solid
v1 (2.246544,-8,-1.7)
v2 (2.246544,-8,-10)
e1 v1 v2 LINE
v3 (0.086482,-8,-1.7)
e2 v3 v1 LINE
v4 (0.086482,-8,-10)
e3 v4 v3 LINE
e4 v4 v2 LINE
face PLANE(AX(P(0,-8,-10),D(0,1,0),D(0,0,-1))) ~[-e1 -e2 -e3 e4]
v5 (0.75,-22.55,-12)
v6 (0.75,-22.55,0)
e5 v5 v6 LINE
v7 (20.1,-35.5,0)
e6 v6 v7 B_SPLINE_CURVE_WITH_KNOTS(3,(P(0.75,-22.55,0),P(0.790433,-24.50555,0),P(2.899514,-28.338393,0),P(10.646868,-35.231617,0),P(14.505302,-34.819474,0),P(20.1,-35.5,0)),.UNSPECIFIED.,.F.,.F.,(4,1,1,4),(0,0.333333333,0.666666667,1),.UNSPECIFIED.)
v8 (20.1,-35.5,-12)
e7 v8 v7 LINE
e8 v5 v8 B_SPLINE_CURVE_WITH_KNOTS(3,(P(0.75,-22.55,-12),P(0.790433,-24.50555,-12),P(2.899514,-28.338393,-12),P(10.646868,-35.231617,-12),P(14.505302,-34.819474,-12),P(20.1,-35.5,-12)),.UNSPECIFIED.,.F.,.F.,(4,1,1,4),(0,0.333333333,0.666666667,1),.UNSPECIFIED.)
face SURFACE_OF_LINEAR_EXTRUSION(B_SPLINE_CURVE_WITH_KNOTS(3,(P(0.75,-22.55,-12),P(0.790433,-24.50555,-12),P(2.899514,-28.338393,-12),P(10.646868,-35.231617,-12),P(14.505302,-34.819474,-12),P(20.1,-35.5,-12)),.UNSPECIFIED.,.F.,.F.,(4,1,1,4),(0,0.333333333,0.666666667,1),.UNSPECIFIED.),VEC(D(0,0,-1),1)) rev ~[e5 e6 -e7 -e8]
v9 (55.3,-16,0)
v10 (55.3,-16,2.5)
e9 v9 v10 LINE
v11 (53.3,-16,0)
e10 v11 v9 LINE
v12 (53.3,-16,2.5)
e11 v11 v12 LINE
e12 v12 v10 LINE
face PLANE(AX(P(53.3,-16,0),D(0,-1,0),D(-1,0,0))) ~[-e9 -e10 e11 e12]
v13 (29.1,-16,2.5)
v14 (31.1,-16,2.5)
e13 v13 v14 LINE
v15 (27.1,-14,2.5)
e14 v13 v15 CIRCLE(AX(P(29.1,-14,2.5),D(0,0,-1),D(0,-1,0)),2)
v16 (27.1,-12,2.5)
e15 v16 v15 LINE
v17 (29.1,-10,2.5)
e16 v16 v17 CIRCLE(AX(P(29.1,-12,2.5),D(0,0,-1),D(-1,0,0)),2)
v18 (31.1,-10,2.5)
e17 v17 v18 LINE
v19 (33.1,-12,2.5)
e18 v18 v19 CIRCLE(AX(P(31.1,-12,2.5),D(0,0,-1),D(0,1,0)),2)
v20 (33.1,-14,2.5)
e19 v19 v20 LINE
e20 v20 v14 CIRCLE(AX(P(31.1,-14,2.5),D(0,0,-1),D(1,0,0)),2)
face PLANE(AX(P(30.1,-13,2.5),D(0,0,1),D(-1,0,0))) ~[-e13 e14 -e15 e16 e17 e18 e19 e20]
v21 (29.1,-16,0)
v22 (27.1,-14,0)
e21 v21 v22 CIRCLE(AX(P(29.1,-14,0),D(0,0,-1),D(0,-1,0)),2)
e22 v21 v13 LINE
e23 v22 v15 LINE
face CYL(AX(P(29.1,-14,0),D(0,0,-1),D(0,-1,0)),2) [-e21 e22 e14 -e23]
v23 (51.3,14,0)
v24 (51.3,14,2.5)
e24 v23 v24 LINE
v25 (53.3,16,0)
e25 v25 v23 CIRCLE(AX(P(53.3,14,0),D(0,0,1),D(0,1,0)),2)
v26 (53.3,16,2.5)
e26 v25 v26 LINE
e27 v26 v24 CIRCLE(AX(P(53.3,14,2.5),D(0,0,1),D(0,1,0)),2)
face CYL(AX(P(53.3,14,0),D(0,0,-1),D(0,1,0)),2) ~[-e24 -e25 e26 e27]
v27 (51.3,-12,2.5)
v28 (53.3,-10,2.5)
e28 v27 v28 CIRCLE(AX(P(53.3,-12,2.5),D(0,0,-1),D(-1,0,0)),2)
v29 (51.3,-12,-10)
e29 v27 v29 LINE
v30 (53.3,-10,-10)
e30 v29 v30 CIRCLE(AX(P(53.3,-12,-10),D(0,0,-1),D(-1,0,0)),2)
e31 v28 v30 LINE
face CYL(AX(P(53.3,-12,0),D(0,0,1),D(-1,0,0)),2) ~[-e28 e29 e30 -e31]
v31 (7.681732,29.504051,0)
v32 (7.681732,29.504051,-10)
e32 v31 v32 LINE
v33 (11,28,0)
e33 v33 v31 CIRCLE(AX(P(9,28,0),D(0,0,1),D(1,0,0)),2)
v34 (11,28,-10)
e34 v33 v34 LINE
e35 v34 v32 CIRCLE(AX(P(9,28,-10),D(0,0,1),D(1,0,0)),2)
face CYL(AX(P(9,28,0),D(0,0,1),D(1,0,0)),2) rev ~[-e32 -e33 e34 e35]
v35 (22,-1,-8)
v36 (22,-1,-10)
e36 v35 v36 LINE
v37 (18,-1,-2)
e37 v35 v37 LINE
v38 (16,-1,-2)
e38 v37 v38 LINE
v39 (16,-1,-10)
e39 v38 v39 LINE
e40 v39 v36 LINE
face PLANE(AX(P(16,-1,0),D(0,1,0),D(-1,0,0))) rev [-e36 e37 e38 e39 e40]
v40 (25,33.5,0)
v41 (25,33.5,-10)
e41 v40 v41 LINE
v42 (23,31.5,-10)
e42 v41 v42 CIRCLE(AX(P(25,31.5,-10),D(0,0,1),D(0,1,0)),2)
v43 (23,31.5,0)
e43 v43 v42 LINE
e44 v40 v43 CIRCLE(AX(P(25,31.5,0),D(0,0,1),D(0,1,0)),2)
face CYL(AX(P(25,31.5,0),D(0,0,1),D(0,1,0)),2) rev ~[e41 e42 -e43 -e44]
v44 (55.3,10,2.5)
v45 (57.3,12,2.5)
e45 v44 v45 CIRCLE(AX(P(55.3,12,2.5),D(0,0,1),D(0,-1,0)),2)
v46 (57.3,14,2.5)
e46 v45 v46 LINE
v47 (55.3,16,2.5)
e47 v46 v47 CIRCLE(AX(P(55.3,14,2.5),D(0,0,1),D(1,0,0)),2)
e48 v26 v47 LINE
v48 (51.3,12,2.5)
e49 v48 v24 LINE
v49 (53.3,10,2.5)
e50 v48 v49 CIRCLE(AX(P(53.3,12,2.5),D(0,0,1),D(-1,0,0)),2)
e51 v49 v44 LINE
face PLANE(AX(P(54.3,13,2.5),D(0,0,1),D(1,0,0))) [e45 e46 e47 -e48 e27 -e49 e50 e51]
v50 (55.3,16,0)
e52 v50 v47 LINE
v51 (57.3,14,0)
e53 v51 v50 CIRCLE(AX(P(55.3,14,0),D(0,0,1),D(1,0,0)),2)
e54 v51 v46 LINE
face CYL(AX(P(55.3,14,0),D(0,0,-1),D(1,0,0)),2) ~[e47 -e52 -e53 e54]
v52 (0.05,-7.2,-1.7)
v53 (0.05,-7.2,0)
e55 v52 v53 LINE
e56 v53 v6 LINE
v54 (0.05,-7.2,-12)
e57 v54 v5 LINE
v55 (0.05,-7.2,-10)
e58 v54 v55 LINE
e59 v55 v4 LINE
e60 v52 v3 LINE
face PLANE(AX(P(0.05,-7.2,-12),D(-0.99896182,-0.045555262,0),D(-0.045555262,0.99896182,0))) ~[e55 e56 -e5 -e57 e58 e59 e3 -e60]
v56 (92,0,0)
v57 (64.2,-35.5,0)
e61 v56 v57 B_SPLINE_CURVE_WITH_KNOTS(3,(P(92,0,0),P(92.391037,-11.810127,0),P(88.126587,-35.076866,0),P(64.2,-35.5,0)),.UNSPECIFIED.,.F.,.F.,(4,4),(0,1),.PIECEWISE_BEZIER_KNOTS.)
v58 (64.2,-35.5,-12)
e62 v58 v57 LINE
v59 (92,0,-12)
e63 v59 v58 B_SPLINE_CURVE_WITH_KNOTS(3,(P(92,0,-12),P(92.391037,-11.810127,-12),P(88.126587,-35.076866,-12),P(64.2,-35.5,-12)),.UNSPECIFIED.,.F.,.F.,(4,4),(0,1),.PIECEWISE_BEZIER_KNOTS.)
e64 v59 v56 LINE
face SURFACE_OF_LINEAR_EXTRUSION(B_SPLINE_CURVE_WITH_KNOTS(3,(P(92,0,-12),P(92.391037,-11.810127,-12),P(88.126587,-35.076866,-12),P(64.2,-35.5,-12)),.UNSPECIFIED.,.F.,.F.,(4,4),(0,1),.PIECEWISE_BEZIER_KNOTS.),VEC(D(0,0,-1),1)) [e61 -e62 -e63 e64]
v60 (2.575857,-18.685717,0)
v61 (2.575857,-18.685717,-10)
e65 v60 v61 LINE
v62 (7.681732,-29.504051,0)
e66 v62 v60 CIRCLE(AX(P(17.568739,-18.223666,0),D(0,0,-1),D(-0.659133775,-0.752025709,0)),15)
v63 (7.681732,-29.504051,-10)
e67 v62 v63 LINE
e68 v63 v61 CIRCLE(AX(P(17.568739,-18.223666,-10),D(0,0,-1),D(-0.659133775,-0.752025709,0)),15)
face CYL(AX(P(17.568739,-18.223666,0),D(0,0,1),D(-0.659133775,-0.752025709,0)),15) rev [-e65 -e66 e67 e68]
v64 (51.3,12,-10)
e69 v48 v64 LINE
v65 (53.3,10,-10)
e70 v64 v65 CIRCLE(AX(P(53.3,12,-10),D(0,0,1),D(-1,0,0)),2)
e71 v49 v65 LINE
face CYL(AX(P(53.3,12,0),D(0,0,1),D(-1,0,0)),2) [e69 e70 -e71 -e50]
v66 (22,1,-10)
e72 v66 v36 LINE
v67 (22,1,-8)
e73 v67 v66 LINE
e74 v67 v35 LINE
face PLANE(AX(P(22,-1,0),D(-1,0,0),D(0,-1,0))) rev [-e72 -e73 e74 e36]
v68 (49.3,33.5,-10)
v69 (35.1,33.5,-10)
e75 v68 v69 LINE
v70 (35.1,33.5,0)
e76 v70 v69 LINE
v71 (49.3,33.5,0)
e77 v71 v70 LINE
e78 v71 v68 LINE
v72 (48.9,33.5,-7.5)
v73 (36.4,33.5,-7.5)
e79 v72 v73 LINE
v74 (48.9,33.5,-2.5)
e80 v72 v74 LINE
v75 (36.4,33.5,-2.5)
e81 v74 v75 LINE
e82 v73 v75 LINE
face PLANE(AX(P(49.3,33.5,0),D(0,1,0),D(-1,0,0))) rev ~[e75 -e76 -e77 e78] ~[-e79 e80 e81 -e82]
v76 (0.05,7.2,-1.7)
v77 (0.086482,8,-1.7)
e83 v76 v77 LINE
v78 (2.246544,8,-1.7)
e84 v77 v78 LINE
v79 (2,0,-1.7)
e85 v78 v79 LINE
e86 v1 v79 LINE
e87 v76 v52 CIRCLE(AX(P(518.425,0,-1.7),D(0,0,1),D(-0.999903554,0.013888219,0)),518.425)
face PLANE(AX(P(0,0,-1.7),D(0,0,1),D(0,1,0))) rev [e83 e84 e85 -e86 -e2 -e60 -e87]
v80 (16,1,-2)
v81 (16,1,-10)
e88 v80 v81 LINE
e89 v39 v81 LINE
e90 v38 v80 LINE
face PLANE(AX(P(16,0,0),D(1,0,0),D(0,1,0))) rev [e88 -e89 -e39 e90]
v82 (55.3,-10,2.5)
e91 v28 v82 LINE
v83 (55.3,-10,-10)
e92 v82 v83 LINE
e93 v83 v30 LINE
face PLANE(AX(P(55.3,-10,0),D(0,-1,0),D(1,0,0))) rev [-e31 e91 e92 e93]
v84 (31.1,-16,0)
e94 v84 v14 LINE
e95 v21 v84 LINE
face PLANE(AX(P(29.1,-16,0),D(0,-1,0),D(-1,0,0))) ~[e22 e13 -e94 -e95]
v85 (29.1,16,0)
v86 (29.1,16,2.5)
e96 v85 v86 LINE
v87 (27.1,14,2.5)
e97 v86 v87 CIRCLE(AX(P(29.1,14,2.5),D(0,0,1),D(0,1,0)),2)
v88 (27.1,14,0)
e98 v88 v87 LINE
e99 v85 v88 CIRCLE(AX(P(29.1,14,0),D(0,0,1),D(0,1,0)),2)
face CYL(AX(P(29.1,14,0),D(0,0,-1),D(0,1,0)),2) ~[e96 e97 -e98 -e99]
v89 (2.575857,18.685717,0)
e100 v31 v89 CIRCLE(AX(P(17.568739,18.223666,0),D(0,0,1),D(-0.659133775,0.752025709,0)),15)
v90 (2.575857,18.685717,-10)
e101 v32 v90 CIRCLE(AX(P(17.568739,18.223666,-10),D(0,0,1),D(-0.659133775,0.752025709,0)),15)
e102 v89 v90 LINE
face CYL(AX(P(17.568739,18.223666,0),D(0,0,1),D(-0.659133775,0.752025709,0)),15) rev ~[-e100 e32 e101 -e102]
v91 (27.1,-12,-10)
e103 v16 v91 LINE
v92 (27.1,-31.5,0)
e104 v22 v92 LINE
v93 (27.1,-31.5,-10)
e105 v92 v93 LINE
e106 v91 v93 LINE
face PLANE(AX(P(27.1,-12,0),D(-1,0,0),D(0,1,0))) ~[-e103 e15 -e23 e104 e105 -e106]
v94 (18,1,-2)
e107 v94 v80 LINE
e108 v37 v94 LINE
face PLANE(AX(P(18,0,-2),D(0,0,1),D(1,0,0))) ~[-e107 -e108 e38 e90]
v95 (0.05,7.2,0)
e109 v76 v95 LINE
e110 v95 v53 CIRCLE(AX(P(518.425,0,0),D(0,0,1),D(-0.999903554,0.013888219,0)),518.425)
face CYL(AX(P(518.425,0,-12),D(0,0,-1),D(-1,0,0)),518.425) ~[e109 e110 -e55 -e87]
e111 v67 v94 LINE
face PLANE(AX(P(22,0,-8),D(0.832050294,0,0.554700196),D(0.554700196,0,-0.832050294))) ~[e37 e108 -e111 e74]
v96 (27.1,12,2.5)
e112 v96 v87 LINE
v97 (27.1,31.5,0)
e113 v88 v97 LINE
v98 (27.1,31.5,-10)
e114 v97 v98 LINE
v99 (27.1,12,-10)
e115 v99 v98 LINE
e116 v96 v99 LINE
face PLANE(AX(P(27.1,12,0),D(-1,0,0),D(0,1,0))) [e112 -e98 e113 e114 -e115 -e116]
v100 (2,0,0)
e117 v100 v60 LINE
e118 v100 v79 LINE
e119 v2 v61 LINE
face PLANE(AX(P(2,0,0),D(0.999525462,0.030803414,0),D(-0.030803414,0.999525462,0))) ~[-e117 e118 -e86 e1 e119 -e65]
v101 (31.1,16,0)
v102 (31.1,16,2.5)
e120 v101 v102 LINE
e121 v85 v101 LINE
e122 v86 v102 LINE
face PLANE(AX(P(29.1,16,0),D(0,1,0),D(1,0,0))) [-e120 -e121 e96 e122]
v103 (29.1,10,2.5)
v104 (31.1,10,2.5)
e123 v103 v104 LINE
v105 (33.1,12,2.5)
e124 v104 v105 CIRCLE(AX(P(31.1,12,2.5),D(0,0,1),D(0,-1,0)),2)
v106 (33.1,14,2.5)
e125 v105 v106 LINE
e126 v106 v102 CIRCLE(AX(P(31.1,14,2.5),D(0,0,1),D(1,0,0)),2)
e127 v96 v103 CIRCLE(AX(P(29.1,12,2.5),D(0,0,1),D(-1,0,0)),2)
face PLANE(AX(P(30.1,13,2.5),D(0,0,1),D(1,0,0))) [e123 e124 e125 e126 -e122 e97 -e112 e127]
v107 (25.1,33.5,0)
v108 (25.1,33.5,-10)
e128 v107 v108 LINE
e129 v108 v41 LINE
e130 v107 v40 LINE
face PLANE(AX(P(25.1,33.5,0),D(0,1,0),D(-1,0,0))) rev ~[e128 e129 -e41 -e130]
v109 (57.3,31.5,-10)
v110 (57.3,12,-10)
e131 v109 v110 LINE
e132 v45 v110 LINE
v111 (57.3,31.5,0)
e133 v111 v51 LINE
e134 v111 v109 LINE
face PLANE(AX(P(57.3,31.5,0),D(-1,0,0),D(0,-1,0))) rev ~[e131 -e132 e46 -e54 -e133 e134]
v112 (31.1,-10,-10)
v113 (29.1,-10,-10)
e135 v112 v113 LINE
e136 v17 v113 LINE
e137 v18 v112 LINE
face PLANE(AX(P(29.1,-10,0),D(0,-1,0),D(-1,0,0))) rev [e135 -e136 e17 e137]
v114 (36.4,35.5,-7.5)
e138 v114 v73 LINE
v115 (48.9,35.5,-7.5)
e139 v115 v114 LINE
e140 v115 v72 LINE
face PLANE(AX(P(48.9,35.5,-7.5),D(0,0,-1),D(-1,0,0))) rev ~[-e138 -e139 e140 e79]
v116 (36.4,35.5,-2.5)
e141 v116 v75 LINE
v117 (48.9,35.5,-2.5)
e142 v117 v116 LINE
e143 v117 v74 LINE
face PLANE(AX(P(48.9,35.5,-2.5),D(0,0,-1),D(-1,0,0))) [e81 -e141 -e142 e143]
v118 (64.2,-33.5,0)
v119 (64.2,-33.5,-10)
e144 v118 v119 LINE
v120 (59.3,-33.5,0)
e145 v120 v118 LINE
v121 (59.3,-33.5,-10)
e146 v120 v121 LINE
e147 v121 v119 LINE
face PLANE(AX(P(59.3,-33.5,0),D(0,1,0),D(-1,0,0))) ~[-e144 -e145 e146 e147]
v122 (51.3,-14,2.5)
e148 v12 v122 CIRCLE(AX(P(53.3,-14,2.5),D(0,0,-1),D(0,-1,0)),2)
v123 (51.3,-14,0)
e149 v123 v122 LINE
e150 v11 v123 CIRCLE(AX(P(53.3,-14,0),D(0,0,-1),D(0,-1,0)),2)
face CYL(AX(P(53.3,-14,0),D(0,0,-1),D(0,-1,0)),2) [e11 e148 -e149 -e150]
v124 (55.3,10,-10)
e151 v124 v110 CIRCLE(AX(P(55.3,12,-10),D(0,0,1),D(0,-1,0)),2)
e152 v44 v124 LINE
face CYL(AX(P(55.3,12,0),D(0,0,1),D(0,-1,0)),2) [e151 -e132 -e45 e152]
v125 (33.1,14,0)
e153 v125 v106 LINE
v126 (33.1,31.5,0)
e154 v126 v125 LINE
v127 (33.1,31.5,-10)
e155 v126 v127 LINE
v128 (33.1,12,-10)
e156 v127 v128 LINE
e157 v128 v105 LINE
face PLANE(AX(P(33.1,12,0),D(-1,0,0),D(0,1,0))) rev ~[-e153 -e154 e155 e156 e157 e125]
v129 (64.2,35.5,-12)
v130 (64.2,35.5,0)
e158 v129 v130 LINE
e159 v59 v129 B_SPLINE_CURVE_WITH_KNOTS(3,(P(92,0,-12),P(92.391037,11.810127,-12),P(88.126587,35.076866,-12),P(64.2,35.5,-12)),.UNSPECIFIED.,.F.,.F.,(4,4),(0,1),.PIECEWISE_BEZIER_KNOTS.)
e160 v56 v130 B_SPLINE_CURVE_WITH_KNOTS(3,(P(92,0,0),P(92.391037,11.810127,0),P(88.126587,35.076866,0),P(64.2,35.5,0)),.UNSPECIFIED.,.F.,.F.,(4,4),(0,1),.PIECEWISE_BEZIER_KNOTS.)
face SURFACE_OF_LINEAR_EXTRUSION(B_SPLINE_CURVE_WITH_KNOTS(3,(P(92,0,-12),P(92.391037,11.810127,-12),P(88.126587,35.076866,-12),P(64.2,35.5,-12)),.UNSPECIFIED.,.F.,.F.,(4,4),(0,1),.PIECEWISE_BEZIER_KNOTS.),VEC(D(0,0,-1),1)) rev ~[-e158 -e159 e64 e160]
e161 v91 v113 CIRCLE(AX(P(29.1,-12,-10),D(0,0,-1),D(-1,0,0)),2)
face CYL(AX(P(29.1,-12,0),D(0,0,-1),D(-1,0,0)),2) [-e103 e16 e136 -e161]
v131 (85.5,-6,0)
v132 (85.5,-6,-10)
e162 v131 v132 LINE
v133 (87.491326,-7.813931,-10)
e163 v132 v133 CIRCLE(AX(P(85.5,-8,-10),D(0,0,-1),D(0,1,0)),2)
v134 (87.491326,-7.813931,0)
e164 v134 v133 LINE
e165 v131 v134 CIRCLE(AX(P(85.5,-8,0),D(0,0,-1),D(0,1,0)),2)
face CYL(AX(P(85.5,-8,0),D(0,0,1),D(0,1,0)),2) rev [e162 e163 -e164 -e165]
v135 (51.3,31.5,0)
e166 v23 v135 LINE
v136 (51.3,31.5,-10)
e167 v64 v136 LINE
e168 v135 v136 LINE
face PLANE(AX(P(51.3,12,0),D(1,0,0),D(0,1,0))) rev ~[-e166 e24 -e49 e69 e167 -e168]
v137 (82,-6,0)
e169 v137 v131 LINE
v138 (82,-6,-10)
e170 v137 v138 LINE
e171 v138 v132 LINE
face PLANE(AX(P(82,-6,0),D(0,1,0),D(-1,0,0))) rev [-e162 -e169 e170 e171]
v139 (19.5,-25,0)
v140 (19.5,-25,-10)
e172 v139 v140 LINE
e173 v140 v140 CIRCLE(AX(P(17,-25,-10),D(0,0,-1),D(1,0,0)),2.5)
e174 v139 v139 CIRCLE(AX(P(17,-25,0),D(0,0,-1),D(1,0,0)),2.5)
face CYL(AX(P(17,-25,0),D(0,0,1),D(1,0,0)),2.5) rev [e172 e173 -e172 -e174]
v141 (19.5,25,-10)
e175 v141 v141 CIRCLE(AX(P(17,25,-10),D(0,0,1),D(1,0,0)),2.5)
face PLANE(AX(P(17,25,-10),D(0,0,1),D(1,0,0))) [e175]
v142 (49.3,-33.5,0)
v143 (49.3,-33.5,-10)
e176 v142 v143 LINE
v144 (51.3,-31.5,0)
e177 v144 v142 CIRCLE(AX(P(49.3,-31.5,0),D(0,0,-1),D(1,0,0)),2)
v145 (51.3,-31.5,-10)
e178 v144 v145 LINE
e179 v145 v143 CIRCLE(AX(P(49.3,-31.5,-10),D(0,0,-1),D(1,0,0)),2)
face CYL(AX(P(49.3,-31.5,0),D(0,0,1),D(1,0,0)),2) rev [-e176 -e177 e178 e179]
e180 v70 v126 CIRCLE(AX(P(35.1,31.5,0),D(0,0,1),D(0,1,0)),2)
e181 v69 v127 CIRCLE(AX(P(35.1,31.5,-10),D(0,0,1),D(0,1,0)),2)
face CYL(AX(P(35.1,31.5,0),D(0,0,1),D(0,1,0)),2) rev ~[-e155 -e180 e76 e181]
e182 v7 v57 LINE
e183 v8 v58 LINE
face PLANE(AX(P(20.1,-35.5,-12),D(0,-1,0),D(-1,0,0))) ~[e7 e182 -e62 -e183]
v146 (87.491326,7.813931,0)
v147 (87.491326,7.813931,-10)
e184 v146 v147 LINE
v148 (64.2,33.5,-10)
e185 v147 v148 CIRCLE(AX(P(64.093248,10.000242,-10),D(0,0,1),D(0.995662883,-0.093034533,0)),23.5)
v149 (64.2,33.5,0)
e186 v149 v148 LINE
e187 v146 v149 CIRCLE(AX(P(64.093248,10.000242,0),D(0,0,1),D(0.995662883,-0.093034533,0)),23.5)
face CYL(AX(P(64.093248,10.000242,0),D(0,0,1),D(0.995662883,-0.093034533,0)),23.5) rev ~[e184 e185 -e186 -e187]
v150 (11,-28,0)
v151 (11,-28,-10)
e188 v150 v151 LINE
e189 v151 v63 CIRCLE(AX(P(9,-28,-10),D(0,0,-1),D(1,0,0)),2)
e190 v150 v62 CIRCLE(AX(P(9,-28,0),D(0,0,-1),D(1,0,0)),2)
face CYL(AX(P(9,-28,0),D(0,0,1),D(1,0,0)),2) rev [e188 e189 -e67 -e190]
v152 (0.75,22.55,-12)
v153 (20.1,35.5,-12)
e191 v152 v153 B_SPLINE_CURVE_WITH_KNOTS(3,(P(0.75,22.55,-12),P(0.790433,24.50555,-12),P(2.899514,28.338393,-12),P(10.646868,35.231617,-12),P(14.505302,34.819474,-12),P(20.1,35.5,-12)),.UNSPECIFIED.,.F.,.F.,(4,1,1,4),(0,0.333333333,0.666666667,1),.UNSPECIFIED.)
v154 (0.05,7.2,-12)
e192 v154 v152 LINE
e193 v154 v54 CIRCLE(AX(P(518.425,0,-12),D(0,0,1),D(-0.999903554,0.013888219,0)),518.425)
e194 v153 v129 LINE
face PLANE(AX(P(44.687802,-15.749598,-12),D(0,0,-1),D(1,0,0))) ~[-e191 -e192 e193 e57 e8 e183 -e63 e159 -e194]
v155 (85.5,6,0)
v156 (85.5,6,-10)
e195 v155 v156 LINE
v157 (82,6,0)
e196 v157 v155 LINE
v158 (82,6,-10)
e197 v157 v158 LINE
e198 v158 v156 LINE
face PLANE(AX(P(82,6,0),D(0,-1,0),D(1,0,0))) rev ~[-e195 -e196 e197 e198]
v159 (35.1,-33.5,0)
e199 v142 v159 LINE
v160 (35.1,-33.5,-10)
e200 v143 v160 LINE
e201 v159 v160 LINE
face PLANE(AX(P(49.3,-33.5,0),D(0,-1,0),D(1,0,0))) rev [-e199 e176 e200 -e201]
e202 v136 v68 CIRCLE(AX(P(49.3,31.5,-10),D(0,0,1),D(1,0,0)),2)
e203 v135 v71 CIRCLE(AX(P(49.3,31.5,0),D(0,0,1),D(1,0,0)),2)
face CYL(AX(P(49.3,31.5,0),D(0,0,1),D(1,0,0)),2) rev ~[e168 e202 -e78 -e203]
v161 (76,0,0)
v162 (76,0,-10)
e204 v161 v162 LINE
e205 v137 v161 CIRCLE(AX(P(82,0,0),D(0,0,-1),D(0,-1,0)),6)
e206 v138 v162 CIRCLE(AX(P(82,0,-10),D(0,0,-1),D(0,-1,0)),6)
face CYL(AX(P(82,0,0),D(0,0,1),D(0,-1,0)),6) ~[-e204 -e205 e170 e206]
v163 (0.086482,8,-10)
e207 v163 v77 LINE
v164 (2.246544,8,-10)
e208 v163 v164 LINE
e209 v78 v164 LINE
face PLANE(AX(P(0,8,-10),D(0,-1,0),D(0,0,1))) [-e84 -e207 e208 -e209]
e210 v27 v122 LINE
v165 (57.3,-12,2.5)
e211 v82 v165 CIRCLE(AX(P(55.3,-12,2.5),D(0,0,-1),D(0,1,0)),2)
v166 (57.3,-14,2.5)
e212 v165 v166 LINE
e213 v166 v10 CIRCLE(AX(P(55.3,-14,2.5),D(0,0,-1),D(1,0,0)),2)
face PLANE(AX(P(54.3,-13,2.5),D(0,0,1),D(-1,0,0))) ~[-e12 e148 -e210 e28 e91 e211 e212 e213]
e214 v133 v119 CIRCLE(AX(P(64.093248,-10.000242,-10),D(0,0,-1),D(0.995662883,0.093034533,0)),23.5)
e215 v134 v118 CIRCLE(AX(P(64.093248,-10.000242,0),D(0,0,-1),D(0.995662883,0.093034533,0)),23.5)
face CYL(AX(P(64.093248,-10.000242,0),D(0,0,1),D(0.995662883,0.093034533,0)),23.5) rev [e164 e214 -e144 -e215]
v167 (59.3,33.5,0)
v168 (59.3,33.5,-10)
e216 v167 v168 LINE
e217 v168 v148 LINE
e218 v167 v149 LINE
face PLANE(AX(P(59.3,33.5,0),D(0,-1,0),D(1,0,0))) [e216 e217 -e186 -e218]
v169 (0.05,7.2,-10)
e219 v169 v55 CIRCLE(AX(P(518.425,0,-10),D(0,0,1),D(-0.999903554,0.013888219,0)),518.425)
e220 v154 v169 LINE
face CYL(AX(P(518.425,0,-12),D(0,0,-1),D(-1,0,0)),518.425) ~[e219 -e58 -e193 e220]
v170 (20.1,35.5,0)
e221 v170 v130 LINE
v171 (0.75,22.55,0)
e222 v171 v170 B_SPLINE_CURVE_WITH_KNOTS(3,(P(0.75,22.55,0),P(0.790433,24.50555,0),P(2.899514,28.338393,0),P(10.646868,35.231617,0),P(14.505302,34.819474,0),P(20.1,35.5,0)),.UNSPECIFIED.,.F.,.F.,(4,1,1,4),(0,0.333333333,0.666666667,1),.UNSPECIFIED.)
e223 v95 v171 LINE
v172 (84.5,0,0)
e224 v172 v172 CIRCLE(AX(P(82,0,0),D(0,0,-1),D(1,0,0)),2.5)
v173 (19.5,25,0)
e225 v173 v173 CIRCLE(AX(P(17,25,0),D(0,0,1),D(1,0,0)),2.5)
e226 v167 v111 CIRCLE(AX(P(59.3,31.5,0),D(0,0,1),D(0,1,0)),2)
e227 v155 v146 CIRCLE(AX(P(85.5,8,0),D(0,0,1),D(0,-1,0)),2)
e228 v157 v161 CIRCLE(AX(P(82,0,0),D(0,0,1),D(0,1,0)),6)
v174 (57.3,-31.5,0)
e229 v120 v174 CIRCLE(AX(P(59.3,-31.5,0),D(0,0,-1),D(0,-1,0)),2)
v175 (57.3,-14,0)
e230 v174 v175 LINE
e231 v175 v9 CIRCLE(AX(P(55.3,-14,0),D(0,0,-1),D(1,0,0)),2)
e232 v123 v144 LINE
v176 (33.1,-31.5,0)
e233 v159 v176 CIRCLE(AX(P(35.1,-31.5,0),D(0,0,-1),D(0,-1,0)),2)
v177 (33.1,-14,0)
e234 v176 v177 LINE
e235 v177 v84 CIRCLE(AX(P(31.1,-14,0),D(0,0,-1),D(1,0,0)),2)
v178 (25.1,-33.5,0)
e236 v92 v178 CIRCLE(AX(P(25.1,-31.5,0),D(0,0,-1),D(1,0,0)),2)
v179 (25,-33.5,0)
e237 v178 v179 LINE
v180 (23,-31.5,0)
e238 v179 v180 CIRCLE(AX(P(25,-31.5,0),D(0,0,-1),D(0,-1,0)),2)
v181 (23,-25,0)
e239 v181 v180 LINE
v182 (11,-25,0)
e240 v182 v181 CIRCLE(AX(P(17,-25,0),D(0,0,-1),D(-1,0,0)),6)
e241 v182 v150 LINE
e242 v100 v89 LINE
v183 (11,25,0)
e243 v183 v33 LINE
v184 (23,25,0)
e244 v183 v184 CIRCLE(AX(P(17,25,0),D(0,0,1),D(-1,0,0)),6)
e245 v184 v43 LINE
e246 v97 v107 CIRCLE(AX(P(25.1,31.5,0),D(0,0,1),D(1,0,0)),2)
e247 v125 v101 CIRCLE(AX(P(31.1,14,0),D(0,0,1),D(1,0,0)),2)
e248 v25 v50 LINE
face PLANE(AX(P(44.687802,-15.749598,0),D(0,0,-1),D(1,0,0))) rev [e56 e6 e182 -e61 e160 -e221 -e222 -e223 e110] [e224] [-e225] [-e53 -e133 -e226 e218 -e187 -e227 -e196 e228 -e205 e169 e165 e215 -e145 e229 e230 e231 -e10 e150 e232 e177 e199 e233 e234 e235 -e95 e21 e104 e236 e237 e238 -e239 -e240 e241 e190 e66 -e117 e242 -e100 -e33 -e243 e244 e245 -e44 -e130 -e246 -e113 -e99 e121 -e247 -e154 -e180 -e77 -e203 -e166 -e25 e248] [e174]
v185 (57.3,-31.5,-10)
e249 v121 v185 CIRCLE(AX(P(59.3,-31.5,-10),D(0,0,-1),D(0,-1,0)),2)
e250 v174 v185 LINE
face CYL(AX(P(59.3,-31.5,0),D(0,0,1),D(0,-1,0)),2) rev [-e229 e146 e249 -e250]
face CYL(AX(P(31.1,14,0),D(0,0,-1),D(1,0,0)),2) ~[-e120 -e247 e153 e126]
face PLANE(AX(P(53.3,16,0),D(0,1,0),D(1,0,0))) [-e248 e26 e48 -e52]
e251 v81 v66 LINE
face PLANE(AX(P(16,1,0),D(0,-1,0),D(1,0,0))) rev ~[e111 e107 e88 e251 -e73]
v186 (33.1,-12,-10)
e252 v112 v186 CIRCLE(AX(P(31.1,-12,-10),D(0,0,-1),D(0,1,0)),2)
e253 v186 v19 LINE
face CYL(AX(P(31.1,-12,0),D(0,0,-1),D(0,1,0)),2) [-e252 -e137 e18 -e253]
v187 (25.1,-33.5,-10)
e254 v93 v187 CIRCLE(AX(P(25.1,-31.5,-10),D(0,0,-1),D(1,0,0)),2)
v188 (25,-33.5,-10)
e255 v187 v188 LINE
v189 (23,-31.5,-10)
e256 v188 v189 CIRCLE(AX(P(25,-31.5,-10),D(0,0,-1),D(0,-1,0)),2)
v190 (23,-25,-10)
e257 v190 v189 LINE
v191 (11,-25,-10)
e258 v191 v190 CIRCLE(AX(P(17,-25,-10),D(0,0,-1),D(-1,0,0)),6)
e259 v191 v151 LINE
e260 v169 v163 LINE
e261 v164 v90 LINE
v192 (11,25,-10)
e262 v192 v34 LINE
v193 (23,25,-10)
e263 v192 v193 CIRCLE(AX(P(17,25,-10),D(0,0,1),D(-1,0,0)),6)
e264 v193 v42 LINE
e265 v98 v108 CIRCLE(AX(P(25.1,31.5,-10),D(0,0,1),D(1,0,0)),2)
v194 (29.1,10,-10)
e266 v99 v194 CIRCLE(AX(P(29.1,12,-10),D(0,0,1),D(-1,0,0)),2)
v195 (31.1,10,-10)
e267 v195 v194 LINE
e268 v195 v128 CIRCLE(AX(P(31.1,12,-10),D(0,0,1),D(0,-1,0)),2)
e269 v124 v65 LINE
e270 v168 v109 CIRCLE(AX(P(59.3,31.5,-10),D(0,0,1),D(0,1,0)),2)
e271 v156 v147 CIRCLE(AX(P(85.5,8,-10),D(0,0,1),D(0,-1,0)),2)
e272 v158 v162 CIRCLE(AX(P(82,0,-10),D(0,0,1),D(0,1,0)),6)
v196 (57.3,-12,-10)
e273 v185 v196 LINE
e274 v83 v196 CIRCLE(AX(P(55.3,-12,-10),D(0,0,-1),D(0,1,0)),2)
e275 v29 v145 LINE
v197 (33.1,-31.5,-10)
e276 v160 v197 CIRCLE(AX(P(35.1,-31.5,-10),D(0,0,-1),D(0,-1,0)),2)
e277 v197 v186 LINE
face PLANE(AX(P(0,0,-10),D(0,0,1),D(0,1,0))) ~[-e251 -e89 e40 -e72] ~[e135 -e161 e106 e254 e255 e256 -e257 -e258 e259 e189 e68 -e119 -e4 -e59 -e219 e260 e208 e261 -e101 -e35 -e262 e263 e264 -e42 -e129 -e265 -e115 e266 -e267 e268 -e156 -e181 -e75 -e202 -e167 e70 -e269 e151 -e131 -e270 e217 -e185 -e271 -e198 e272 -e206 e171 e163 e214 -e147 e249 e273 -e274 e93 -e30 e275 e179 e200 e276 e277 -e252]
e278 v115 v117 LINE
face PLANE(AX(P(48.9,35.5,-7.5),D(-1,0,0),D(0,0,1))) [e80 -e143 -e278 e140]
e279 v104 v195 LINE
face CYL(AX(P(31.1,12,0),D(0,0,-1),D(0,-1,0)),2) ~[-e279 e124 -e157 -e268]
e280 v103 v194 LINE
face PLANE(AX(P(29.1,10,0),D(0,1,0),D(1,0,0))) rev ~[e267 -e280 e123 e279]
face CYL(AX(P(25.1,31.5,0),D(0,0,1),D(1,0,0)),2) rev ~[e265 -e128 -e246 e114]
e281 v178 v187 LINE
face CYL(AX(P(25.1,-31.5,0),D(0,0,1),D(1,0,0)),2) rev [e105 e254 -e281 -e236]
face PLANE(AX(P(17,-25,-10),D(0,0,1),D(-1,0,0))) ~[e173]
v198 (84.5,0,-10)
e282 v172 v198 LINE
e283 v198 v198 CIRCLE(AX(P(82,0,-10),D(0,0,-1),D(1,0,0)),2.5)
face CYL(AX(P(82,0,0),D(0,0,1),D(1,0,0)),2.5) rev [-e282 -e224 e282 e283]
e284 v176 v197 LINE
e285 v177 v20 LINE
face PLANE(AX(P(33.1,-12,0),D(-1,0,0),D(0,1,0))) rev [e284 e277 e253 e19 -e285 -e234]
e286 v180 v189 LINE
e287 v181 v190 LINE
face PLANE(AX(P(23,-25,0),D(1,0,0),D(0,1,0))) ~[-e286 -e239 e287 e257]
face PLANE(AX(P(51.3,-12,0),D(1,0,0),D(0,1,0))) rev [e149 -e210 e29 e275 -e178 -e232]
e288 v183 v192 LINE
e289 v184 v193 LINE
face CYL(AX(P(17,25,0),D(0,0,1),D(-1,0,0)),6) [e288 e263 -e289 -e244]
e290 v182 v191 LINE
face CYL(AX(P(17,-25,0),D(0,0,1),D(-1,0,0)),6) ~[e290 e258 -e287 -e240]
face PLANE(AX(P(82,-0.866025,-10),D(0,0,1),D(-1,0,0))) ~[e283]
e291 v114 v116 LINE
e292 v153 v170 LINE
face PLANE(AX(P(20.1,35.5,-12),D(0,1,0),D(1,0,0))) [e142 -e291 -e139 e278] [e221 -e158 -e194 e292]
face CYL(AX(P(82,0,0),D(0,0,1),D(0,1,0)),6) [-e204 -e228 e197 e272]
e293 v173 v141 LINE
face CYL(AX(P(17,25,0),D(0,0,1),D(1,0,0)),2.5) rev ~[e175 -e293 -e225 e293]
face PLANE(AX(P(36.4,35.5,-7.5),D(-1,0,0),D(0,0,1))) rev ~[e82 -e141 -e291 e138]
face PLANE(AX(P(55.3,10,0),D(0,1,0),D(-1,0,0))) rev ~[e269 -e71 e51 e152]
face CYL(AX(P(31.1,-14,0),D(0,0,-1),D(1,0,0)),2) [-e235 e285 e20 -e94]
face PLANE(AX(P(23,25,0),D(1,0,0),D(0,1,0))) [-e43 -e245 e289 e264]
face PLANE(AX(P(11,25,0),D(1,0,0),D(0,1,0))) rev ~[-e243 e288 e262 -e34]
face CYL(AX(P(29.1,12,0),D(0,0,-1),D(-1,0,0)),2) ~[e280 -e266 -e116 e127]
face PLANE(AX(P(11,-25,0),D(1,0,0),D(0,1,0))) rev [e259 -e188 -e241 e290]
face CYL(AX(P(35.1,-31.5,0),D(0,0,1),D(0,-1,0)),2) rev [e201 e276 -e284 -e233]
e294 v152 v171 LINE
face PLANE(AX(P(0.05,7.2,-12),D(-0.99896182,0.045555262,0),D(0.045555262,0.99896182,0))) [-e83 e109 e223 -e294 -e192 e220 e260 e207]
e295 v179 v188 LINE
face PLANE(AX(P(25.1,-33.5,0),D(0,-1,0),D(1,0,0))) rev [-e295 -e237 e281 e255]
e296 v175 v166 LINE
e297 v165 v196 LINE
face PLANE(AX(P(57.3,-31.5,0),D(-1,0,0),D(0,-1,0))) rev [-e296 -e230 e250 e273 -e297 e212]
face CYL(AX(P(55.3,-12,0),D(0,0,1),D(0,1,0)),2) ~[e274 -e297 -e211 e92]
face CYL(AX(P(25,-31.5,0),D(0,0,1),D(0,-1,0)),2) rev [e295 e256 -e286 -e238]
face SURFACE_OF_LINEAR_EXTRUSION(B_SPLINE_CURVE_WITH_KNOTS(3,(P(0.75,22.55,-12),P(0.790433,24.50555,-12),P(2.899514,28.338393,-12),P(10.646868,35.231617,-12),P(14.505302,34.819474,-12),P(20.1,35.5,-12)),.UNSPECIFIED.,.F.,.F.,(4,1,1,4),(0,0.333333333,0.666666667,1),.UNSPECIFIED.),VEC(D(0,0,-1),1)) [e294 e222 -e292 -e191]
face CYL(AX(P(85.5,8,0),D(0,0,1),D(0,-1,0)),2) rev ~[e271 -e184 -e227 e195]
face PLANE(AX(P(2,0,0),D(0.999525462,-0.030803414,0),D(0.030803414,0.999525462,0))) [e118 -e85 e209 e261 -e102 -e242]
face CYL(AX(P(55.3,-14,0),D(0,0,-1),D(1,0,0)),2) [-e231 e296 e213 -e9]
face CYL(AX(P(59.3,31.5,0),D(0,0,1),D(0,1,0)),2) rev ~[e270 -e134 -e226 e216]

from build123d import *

# Parameters (mm, degrees)
PAD005_DEPTH    = 12
SKETCH025_R     = 2.5
POCKET019_DEPTH = 10
POCKET020_DEPTH = 1
SKETCH027_W     = 8
SKETCH027_H     = 8.3
POCKET021_DEPTH = 5
PAD006_DEPTH    = 2.5
SKETCH029_W     = 12.5
SKETCH029_H     = 5
POCKET022_DEPTH = 2


with BuildPart() as part:
    # Sketch024 → Pad005 (new body)
    with BuildSketch(Plane.XY):
        with BuildLine():
            ThreePointArc((0, 0), (0.0125001507, 3.6000868045), (0.05, 7.2))
            Line((0.05, 7.2), (0.75, 22.55))
            add(Edge.make_bspline(
                [(0.75, 22.55), (0.790433, 24.50555), (2.8995135699, 28.3383927733), (10.6468681476, 35.231617337), (14.5053016695, 34.8194742751), (20.1, 35.5)],
                knots=[0, 0, 0, 0, 0.3333333333, 0.6666666667, 1, 1, 1, 1], degree=3))
            Line((20.1, 35.5), (64.2, 35.5))
            add(Edge.make_bspline(
                [(92, 0), (92.391037, 11.810127), (88.126587, 35.076866), (64.2, 35.5)],
                knots=[0, 0, 0, 0, 1, 1, 1, 1], degree=3))
            Line((92, 0), (0, 0))
        make_face()
    extrude(amount=PAD005_DEPTH)

    # Sketch025 (on Face8 of Pad005) → Pocket019 (cut)
    with BuildSketch(Plane.XY.offset(12)):
        with Locations((17, 25)):
            Circle(SKETCH025_R)
        with BuildLine():
            ThreePointArc((84.5, 0), (82, 2.5), (79.5, 0))
            Line((79.5, 0), (84.5, 0))
        make_face()
        with BuildLine():
            Line((2, 0), (2.5758571429, 18.6857169977))
            ThreePointArc((7.6817324497, 29.5040514173), (4.0036624605, 24.625907301), (2.5758571429, 18.6857169977))
            ThreePointArc((11, 28), (9.8256709089, 29.8216112511), (7.6817324497, 29.5040514173))
            Line((11, 25), (11, 28))
            ThreePointArc((11, 25), (17, 19), (23, 25))
            Line((23, 25), (23, 31.5))
            ThreePointArc((25, 33.5), (23.5857864376, 32.9142135624), (23, 31.5))
            Line((25.1, 33.5), (25, 33.5))
            ThreePointArc((27.1, 31.5), (26.5142135624, 32.9142135624), (25.1, 33.5))
            Line((27.1, 12), (27.1, 31.5))
            ThreePointArc((27.1, 12), (27.6857864376, 10.5857864376), (29.1, 10))
            Line((31.1, 10), (29.1, 10))
            ThreePointArc((31.1, 10), (32.5142135624, 10.5857864376), (33.1, 12))
            Line((33.1, 31.5), (33.1, 12))
            ThreePointArc((35.1, 33.5), (33.6857864376, 32.9142135624), (33.1, 31.5))
            Line((49.3, 33.5), (35.1, 33.5))
            ThreePointArc((51.3, 31.5), (50.7142135624, 32.9142135624), (49.3, 33.5))
            Line((51.3, 12), (51.3, 31.5))
            ThreePointArc((51.3, 12), (51.8857864376, 10.5857864376), (53.3, 10))
            Line((55.3, 10), (53.3, 10))
            ThreePointArc((55.3, 10), (56.7142135624, 10.5857864376), (57.3, 12))
            Line((57.3, 31.4999999999), (57.3, 12))
            ThreePointArc((59.3, 33.4999999999), (57.8857864376, 32.9142135623), (57.3, 31.4999999999))
            Line((59.3, 33.5), (64.2, 33.5))
            ThreePointArc((87.491325765, 7.8139309331), (81.5019467421, 25.7859071373), (64.2, 33.5))
            ThreePointArc((85.5, 6), (86.8468225322, 6.521463877), (87.491325765, 7.8139309331))
            Line((82, 6), (85.5, 6))
            ThreePointArc((82, 6), (77.7573593129, 4.2426406871), (76, 0))
            Line((22, 0), (76, 0))
            Line((22, 1), (22, 0))
            Line((16, 1), (22, 1))
            Line((16, 0), (16, 1))
            Line((2, 0), (16, 0))
        make_face()
    extrude(amount=-POCKET019_DEPTH, mode=Mode.SUBTRACT)

    # Sketch026 (on Face3 of Pocket019) → Pocket020 (cut)
    with BuildSketch(Plane.XZ):
        Polygon((22, 12), (22, 4), (18, 10), (16, 10), (16, 12), align=None)
    extrude(amount=-POCKET020_DEPTH, mode=Mode.SUBTRACT)

    # Sketch027 → Pocket021 (cut)
    with BuildSketch(Plane.YZ):
        with Locations((4, 6.15)):
            Rectangle(SKETCH027_W, SKETCH027_H)
    extrude(amount=POCKET021_DEPTH, mode=Mode.SUBTRACT)

    # Sketch028 (on Face8 of Pocket021) → Pad006 (join)
    with BuildSketch(Plane.XY.offset(12)):
        with BuildLine():
            ThreePointArc((31.1, 10), (32.5142135624, 10.5857864376), (33.1, 12))
            Line((33.1, 12), (33.1, 14))
            ThreePointArc((33.1, 14), (32.5142135624, 15.4142135624), (31.1, 16))
            Line((29.1, 16), (31.1, 16))
            ThreePointArc((29.1, 16), (27.6857864376, 15.4142135624), (27.1, 14))
            Line((27.1, 12), (27.1, 14))
            ThreePointArc((27.1, 12), (27.6857864376, 10.5857864376), (29.1, 10))
            Line((29.1, 10), (31.1, 10))
        make_face()
        with BuildLine():
            ThreePointArc((51.3, 12), (51.8857864376, 10.5857864376), (53.3, 10))
            Line((53.3, 10), (55.3, 10))
            ThreePointArc((55.3, 10), (56.7142135624, 10.5857864376), (57.3, 12))
            Line((57.3, 12), (57.3, 14))
            ThreePointArc((57.3, 14), (56.7142135624, 15.4142135624), (55.3, 16))
            Line((53.3, 16), (55.3, 16))
            ThreePointArc((53.3, 16), (51.8857864376, 15.4142135624), (51.3, 14))
            Line((51.3, 12), (51.3, 14))
        make_face()
    extrude(amount=PAD006_DEPTH)

    # Mirrored002: part across XZ


with BuildPart() as part_1:
    add(part.part)
    add(part.part.mirror(Plane.XZ))

    # Sketch029 (on Face33 of Mirrored002) → Pocket022 (cut)
    with BuildSketch(Plane(origin=(0, 35.5, 0), x_dir=(-1, 0, 0), z_dir=(0, 1, 0))):
        with Locations((-42.65, 7)):
            Rectangle(SKETCH029_W, SKETCH029_H)
    extrude(amount=-POCKET022_DEPTH, mode=Mode.SUBTRACT)


with BuildPart() as part_2:
    # Body004 placement: moved
    add(part_1.part.moved(Location((0, 0, -12))))


solid = part_2.part
